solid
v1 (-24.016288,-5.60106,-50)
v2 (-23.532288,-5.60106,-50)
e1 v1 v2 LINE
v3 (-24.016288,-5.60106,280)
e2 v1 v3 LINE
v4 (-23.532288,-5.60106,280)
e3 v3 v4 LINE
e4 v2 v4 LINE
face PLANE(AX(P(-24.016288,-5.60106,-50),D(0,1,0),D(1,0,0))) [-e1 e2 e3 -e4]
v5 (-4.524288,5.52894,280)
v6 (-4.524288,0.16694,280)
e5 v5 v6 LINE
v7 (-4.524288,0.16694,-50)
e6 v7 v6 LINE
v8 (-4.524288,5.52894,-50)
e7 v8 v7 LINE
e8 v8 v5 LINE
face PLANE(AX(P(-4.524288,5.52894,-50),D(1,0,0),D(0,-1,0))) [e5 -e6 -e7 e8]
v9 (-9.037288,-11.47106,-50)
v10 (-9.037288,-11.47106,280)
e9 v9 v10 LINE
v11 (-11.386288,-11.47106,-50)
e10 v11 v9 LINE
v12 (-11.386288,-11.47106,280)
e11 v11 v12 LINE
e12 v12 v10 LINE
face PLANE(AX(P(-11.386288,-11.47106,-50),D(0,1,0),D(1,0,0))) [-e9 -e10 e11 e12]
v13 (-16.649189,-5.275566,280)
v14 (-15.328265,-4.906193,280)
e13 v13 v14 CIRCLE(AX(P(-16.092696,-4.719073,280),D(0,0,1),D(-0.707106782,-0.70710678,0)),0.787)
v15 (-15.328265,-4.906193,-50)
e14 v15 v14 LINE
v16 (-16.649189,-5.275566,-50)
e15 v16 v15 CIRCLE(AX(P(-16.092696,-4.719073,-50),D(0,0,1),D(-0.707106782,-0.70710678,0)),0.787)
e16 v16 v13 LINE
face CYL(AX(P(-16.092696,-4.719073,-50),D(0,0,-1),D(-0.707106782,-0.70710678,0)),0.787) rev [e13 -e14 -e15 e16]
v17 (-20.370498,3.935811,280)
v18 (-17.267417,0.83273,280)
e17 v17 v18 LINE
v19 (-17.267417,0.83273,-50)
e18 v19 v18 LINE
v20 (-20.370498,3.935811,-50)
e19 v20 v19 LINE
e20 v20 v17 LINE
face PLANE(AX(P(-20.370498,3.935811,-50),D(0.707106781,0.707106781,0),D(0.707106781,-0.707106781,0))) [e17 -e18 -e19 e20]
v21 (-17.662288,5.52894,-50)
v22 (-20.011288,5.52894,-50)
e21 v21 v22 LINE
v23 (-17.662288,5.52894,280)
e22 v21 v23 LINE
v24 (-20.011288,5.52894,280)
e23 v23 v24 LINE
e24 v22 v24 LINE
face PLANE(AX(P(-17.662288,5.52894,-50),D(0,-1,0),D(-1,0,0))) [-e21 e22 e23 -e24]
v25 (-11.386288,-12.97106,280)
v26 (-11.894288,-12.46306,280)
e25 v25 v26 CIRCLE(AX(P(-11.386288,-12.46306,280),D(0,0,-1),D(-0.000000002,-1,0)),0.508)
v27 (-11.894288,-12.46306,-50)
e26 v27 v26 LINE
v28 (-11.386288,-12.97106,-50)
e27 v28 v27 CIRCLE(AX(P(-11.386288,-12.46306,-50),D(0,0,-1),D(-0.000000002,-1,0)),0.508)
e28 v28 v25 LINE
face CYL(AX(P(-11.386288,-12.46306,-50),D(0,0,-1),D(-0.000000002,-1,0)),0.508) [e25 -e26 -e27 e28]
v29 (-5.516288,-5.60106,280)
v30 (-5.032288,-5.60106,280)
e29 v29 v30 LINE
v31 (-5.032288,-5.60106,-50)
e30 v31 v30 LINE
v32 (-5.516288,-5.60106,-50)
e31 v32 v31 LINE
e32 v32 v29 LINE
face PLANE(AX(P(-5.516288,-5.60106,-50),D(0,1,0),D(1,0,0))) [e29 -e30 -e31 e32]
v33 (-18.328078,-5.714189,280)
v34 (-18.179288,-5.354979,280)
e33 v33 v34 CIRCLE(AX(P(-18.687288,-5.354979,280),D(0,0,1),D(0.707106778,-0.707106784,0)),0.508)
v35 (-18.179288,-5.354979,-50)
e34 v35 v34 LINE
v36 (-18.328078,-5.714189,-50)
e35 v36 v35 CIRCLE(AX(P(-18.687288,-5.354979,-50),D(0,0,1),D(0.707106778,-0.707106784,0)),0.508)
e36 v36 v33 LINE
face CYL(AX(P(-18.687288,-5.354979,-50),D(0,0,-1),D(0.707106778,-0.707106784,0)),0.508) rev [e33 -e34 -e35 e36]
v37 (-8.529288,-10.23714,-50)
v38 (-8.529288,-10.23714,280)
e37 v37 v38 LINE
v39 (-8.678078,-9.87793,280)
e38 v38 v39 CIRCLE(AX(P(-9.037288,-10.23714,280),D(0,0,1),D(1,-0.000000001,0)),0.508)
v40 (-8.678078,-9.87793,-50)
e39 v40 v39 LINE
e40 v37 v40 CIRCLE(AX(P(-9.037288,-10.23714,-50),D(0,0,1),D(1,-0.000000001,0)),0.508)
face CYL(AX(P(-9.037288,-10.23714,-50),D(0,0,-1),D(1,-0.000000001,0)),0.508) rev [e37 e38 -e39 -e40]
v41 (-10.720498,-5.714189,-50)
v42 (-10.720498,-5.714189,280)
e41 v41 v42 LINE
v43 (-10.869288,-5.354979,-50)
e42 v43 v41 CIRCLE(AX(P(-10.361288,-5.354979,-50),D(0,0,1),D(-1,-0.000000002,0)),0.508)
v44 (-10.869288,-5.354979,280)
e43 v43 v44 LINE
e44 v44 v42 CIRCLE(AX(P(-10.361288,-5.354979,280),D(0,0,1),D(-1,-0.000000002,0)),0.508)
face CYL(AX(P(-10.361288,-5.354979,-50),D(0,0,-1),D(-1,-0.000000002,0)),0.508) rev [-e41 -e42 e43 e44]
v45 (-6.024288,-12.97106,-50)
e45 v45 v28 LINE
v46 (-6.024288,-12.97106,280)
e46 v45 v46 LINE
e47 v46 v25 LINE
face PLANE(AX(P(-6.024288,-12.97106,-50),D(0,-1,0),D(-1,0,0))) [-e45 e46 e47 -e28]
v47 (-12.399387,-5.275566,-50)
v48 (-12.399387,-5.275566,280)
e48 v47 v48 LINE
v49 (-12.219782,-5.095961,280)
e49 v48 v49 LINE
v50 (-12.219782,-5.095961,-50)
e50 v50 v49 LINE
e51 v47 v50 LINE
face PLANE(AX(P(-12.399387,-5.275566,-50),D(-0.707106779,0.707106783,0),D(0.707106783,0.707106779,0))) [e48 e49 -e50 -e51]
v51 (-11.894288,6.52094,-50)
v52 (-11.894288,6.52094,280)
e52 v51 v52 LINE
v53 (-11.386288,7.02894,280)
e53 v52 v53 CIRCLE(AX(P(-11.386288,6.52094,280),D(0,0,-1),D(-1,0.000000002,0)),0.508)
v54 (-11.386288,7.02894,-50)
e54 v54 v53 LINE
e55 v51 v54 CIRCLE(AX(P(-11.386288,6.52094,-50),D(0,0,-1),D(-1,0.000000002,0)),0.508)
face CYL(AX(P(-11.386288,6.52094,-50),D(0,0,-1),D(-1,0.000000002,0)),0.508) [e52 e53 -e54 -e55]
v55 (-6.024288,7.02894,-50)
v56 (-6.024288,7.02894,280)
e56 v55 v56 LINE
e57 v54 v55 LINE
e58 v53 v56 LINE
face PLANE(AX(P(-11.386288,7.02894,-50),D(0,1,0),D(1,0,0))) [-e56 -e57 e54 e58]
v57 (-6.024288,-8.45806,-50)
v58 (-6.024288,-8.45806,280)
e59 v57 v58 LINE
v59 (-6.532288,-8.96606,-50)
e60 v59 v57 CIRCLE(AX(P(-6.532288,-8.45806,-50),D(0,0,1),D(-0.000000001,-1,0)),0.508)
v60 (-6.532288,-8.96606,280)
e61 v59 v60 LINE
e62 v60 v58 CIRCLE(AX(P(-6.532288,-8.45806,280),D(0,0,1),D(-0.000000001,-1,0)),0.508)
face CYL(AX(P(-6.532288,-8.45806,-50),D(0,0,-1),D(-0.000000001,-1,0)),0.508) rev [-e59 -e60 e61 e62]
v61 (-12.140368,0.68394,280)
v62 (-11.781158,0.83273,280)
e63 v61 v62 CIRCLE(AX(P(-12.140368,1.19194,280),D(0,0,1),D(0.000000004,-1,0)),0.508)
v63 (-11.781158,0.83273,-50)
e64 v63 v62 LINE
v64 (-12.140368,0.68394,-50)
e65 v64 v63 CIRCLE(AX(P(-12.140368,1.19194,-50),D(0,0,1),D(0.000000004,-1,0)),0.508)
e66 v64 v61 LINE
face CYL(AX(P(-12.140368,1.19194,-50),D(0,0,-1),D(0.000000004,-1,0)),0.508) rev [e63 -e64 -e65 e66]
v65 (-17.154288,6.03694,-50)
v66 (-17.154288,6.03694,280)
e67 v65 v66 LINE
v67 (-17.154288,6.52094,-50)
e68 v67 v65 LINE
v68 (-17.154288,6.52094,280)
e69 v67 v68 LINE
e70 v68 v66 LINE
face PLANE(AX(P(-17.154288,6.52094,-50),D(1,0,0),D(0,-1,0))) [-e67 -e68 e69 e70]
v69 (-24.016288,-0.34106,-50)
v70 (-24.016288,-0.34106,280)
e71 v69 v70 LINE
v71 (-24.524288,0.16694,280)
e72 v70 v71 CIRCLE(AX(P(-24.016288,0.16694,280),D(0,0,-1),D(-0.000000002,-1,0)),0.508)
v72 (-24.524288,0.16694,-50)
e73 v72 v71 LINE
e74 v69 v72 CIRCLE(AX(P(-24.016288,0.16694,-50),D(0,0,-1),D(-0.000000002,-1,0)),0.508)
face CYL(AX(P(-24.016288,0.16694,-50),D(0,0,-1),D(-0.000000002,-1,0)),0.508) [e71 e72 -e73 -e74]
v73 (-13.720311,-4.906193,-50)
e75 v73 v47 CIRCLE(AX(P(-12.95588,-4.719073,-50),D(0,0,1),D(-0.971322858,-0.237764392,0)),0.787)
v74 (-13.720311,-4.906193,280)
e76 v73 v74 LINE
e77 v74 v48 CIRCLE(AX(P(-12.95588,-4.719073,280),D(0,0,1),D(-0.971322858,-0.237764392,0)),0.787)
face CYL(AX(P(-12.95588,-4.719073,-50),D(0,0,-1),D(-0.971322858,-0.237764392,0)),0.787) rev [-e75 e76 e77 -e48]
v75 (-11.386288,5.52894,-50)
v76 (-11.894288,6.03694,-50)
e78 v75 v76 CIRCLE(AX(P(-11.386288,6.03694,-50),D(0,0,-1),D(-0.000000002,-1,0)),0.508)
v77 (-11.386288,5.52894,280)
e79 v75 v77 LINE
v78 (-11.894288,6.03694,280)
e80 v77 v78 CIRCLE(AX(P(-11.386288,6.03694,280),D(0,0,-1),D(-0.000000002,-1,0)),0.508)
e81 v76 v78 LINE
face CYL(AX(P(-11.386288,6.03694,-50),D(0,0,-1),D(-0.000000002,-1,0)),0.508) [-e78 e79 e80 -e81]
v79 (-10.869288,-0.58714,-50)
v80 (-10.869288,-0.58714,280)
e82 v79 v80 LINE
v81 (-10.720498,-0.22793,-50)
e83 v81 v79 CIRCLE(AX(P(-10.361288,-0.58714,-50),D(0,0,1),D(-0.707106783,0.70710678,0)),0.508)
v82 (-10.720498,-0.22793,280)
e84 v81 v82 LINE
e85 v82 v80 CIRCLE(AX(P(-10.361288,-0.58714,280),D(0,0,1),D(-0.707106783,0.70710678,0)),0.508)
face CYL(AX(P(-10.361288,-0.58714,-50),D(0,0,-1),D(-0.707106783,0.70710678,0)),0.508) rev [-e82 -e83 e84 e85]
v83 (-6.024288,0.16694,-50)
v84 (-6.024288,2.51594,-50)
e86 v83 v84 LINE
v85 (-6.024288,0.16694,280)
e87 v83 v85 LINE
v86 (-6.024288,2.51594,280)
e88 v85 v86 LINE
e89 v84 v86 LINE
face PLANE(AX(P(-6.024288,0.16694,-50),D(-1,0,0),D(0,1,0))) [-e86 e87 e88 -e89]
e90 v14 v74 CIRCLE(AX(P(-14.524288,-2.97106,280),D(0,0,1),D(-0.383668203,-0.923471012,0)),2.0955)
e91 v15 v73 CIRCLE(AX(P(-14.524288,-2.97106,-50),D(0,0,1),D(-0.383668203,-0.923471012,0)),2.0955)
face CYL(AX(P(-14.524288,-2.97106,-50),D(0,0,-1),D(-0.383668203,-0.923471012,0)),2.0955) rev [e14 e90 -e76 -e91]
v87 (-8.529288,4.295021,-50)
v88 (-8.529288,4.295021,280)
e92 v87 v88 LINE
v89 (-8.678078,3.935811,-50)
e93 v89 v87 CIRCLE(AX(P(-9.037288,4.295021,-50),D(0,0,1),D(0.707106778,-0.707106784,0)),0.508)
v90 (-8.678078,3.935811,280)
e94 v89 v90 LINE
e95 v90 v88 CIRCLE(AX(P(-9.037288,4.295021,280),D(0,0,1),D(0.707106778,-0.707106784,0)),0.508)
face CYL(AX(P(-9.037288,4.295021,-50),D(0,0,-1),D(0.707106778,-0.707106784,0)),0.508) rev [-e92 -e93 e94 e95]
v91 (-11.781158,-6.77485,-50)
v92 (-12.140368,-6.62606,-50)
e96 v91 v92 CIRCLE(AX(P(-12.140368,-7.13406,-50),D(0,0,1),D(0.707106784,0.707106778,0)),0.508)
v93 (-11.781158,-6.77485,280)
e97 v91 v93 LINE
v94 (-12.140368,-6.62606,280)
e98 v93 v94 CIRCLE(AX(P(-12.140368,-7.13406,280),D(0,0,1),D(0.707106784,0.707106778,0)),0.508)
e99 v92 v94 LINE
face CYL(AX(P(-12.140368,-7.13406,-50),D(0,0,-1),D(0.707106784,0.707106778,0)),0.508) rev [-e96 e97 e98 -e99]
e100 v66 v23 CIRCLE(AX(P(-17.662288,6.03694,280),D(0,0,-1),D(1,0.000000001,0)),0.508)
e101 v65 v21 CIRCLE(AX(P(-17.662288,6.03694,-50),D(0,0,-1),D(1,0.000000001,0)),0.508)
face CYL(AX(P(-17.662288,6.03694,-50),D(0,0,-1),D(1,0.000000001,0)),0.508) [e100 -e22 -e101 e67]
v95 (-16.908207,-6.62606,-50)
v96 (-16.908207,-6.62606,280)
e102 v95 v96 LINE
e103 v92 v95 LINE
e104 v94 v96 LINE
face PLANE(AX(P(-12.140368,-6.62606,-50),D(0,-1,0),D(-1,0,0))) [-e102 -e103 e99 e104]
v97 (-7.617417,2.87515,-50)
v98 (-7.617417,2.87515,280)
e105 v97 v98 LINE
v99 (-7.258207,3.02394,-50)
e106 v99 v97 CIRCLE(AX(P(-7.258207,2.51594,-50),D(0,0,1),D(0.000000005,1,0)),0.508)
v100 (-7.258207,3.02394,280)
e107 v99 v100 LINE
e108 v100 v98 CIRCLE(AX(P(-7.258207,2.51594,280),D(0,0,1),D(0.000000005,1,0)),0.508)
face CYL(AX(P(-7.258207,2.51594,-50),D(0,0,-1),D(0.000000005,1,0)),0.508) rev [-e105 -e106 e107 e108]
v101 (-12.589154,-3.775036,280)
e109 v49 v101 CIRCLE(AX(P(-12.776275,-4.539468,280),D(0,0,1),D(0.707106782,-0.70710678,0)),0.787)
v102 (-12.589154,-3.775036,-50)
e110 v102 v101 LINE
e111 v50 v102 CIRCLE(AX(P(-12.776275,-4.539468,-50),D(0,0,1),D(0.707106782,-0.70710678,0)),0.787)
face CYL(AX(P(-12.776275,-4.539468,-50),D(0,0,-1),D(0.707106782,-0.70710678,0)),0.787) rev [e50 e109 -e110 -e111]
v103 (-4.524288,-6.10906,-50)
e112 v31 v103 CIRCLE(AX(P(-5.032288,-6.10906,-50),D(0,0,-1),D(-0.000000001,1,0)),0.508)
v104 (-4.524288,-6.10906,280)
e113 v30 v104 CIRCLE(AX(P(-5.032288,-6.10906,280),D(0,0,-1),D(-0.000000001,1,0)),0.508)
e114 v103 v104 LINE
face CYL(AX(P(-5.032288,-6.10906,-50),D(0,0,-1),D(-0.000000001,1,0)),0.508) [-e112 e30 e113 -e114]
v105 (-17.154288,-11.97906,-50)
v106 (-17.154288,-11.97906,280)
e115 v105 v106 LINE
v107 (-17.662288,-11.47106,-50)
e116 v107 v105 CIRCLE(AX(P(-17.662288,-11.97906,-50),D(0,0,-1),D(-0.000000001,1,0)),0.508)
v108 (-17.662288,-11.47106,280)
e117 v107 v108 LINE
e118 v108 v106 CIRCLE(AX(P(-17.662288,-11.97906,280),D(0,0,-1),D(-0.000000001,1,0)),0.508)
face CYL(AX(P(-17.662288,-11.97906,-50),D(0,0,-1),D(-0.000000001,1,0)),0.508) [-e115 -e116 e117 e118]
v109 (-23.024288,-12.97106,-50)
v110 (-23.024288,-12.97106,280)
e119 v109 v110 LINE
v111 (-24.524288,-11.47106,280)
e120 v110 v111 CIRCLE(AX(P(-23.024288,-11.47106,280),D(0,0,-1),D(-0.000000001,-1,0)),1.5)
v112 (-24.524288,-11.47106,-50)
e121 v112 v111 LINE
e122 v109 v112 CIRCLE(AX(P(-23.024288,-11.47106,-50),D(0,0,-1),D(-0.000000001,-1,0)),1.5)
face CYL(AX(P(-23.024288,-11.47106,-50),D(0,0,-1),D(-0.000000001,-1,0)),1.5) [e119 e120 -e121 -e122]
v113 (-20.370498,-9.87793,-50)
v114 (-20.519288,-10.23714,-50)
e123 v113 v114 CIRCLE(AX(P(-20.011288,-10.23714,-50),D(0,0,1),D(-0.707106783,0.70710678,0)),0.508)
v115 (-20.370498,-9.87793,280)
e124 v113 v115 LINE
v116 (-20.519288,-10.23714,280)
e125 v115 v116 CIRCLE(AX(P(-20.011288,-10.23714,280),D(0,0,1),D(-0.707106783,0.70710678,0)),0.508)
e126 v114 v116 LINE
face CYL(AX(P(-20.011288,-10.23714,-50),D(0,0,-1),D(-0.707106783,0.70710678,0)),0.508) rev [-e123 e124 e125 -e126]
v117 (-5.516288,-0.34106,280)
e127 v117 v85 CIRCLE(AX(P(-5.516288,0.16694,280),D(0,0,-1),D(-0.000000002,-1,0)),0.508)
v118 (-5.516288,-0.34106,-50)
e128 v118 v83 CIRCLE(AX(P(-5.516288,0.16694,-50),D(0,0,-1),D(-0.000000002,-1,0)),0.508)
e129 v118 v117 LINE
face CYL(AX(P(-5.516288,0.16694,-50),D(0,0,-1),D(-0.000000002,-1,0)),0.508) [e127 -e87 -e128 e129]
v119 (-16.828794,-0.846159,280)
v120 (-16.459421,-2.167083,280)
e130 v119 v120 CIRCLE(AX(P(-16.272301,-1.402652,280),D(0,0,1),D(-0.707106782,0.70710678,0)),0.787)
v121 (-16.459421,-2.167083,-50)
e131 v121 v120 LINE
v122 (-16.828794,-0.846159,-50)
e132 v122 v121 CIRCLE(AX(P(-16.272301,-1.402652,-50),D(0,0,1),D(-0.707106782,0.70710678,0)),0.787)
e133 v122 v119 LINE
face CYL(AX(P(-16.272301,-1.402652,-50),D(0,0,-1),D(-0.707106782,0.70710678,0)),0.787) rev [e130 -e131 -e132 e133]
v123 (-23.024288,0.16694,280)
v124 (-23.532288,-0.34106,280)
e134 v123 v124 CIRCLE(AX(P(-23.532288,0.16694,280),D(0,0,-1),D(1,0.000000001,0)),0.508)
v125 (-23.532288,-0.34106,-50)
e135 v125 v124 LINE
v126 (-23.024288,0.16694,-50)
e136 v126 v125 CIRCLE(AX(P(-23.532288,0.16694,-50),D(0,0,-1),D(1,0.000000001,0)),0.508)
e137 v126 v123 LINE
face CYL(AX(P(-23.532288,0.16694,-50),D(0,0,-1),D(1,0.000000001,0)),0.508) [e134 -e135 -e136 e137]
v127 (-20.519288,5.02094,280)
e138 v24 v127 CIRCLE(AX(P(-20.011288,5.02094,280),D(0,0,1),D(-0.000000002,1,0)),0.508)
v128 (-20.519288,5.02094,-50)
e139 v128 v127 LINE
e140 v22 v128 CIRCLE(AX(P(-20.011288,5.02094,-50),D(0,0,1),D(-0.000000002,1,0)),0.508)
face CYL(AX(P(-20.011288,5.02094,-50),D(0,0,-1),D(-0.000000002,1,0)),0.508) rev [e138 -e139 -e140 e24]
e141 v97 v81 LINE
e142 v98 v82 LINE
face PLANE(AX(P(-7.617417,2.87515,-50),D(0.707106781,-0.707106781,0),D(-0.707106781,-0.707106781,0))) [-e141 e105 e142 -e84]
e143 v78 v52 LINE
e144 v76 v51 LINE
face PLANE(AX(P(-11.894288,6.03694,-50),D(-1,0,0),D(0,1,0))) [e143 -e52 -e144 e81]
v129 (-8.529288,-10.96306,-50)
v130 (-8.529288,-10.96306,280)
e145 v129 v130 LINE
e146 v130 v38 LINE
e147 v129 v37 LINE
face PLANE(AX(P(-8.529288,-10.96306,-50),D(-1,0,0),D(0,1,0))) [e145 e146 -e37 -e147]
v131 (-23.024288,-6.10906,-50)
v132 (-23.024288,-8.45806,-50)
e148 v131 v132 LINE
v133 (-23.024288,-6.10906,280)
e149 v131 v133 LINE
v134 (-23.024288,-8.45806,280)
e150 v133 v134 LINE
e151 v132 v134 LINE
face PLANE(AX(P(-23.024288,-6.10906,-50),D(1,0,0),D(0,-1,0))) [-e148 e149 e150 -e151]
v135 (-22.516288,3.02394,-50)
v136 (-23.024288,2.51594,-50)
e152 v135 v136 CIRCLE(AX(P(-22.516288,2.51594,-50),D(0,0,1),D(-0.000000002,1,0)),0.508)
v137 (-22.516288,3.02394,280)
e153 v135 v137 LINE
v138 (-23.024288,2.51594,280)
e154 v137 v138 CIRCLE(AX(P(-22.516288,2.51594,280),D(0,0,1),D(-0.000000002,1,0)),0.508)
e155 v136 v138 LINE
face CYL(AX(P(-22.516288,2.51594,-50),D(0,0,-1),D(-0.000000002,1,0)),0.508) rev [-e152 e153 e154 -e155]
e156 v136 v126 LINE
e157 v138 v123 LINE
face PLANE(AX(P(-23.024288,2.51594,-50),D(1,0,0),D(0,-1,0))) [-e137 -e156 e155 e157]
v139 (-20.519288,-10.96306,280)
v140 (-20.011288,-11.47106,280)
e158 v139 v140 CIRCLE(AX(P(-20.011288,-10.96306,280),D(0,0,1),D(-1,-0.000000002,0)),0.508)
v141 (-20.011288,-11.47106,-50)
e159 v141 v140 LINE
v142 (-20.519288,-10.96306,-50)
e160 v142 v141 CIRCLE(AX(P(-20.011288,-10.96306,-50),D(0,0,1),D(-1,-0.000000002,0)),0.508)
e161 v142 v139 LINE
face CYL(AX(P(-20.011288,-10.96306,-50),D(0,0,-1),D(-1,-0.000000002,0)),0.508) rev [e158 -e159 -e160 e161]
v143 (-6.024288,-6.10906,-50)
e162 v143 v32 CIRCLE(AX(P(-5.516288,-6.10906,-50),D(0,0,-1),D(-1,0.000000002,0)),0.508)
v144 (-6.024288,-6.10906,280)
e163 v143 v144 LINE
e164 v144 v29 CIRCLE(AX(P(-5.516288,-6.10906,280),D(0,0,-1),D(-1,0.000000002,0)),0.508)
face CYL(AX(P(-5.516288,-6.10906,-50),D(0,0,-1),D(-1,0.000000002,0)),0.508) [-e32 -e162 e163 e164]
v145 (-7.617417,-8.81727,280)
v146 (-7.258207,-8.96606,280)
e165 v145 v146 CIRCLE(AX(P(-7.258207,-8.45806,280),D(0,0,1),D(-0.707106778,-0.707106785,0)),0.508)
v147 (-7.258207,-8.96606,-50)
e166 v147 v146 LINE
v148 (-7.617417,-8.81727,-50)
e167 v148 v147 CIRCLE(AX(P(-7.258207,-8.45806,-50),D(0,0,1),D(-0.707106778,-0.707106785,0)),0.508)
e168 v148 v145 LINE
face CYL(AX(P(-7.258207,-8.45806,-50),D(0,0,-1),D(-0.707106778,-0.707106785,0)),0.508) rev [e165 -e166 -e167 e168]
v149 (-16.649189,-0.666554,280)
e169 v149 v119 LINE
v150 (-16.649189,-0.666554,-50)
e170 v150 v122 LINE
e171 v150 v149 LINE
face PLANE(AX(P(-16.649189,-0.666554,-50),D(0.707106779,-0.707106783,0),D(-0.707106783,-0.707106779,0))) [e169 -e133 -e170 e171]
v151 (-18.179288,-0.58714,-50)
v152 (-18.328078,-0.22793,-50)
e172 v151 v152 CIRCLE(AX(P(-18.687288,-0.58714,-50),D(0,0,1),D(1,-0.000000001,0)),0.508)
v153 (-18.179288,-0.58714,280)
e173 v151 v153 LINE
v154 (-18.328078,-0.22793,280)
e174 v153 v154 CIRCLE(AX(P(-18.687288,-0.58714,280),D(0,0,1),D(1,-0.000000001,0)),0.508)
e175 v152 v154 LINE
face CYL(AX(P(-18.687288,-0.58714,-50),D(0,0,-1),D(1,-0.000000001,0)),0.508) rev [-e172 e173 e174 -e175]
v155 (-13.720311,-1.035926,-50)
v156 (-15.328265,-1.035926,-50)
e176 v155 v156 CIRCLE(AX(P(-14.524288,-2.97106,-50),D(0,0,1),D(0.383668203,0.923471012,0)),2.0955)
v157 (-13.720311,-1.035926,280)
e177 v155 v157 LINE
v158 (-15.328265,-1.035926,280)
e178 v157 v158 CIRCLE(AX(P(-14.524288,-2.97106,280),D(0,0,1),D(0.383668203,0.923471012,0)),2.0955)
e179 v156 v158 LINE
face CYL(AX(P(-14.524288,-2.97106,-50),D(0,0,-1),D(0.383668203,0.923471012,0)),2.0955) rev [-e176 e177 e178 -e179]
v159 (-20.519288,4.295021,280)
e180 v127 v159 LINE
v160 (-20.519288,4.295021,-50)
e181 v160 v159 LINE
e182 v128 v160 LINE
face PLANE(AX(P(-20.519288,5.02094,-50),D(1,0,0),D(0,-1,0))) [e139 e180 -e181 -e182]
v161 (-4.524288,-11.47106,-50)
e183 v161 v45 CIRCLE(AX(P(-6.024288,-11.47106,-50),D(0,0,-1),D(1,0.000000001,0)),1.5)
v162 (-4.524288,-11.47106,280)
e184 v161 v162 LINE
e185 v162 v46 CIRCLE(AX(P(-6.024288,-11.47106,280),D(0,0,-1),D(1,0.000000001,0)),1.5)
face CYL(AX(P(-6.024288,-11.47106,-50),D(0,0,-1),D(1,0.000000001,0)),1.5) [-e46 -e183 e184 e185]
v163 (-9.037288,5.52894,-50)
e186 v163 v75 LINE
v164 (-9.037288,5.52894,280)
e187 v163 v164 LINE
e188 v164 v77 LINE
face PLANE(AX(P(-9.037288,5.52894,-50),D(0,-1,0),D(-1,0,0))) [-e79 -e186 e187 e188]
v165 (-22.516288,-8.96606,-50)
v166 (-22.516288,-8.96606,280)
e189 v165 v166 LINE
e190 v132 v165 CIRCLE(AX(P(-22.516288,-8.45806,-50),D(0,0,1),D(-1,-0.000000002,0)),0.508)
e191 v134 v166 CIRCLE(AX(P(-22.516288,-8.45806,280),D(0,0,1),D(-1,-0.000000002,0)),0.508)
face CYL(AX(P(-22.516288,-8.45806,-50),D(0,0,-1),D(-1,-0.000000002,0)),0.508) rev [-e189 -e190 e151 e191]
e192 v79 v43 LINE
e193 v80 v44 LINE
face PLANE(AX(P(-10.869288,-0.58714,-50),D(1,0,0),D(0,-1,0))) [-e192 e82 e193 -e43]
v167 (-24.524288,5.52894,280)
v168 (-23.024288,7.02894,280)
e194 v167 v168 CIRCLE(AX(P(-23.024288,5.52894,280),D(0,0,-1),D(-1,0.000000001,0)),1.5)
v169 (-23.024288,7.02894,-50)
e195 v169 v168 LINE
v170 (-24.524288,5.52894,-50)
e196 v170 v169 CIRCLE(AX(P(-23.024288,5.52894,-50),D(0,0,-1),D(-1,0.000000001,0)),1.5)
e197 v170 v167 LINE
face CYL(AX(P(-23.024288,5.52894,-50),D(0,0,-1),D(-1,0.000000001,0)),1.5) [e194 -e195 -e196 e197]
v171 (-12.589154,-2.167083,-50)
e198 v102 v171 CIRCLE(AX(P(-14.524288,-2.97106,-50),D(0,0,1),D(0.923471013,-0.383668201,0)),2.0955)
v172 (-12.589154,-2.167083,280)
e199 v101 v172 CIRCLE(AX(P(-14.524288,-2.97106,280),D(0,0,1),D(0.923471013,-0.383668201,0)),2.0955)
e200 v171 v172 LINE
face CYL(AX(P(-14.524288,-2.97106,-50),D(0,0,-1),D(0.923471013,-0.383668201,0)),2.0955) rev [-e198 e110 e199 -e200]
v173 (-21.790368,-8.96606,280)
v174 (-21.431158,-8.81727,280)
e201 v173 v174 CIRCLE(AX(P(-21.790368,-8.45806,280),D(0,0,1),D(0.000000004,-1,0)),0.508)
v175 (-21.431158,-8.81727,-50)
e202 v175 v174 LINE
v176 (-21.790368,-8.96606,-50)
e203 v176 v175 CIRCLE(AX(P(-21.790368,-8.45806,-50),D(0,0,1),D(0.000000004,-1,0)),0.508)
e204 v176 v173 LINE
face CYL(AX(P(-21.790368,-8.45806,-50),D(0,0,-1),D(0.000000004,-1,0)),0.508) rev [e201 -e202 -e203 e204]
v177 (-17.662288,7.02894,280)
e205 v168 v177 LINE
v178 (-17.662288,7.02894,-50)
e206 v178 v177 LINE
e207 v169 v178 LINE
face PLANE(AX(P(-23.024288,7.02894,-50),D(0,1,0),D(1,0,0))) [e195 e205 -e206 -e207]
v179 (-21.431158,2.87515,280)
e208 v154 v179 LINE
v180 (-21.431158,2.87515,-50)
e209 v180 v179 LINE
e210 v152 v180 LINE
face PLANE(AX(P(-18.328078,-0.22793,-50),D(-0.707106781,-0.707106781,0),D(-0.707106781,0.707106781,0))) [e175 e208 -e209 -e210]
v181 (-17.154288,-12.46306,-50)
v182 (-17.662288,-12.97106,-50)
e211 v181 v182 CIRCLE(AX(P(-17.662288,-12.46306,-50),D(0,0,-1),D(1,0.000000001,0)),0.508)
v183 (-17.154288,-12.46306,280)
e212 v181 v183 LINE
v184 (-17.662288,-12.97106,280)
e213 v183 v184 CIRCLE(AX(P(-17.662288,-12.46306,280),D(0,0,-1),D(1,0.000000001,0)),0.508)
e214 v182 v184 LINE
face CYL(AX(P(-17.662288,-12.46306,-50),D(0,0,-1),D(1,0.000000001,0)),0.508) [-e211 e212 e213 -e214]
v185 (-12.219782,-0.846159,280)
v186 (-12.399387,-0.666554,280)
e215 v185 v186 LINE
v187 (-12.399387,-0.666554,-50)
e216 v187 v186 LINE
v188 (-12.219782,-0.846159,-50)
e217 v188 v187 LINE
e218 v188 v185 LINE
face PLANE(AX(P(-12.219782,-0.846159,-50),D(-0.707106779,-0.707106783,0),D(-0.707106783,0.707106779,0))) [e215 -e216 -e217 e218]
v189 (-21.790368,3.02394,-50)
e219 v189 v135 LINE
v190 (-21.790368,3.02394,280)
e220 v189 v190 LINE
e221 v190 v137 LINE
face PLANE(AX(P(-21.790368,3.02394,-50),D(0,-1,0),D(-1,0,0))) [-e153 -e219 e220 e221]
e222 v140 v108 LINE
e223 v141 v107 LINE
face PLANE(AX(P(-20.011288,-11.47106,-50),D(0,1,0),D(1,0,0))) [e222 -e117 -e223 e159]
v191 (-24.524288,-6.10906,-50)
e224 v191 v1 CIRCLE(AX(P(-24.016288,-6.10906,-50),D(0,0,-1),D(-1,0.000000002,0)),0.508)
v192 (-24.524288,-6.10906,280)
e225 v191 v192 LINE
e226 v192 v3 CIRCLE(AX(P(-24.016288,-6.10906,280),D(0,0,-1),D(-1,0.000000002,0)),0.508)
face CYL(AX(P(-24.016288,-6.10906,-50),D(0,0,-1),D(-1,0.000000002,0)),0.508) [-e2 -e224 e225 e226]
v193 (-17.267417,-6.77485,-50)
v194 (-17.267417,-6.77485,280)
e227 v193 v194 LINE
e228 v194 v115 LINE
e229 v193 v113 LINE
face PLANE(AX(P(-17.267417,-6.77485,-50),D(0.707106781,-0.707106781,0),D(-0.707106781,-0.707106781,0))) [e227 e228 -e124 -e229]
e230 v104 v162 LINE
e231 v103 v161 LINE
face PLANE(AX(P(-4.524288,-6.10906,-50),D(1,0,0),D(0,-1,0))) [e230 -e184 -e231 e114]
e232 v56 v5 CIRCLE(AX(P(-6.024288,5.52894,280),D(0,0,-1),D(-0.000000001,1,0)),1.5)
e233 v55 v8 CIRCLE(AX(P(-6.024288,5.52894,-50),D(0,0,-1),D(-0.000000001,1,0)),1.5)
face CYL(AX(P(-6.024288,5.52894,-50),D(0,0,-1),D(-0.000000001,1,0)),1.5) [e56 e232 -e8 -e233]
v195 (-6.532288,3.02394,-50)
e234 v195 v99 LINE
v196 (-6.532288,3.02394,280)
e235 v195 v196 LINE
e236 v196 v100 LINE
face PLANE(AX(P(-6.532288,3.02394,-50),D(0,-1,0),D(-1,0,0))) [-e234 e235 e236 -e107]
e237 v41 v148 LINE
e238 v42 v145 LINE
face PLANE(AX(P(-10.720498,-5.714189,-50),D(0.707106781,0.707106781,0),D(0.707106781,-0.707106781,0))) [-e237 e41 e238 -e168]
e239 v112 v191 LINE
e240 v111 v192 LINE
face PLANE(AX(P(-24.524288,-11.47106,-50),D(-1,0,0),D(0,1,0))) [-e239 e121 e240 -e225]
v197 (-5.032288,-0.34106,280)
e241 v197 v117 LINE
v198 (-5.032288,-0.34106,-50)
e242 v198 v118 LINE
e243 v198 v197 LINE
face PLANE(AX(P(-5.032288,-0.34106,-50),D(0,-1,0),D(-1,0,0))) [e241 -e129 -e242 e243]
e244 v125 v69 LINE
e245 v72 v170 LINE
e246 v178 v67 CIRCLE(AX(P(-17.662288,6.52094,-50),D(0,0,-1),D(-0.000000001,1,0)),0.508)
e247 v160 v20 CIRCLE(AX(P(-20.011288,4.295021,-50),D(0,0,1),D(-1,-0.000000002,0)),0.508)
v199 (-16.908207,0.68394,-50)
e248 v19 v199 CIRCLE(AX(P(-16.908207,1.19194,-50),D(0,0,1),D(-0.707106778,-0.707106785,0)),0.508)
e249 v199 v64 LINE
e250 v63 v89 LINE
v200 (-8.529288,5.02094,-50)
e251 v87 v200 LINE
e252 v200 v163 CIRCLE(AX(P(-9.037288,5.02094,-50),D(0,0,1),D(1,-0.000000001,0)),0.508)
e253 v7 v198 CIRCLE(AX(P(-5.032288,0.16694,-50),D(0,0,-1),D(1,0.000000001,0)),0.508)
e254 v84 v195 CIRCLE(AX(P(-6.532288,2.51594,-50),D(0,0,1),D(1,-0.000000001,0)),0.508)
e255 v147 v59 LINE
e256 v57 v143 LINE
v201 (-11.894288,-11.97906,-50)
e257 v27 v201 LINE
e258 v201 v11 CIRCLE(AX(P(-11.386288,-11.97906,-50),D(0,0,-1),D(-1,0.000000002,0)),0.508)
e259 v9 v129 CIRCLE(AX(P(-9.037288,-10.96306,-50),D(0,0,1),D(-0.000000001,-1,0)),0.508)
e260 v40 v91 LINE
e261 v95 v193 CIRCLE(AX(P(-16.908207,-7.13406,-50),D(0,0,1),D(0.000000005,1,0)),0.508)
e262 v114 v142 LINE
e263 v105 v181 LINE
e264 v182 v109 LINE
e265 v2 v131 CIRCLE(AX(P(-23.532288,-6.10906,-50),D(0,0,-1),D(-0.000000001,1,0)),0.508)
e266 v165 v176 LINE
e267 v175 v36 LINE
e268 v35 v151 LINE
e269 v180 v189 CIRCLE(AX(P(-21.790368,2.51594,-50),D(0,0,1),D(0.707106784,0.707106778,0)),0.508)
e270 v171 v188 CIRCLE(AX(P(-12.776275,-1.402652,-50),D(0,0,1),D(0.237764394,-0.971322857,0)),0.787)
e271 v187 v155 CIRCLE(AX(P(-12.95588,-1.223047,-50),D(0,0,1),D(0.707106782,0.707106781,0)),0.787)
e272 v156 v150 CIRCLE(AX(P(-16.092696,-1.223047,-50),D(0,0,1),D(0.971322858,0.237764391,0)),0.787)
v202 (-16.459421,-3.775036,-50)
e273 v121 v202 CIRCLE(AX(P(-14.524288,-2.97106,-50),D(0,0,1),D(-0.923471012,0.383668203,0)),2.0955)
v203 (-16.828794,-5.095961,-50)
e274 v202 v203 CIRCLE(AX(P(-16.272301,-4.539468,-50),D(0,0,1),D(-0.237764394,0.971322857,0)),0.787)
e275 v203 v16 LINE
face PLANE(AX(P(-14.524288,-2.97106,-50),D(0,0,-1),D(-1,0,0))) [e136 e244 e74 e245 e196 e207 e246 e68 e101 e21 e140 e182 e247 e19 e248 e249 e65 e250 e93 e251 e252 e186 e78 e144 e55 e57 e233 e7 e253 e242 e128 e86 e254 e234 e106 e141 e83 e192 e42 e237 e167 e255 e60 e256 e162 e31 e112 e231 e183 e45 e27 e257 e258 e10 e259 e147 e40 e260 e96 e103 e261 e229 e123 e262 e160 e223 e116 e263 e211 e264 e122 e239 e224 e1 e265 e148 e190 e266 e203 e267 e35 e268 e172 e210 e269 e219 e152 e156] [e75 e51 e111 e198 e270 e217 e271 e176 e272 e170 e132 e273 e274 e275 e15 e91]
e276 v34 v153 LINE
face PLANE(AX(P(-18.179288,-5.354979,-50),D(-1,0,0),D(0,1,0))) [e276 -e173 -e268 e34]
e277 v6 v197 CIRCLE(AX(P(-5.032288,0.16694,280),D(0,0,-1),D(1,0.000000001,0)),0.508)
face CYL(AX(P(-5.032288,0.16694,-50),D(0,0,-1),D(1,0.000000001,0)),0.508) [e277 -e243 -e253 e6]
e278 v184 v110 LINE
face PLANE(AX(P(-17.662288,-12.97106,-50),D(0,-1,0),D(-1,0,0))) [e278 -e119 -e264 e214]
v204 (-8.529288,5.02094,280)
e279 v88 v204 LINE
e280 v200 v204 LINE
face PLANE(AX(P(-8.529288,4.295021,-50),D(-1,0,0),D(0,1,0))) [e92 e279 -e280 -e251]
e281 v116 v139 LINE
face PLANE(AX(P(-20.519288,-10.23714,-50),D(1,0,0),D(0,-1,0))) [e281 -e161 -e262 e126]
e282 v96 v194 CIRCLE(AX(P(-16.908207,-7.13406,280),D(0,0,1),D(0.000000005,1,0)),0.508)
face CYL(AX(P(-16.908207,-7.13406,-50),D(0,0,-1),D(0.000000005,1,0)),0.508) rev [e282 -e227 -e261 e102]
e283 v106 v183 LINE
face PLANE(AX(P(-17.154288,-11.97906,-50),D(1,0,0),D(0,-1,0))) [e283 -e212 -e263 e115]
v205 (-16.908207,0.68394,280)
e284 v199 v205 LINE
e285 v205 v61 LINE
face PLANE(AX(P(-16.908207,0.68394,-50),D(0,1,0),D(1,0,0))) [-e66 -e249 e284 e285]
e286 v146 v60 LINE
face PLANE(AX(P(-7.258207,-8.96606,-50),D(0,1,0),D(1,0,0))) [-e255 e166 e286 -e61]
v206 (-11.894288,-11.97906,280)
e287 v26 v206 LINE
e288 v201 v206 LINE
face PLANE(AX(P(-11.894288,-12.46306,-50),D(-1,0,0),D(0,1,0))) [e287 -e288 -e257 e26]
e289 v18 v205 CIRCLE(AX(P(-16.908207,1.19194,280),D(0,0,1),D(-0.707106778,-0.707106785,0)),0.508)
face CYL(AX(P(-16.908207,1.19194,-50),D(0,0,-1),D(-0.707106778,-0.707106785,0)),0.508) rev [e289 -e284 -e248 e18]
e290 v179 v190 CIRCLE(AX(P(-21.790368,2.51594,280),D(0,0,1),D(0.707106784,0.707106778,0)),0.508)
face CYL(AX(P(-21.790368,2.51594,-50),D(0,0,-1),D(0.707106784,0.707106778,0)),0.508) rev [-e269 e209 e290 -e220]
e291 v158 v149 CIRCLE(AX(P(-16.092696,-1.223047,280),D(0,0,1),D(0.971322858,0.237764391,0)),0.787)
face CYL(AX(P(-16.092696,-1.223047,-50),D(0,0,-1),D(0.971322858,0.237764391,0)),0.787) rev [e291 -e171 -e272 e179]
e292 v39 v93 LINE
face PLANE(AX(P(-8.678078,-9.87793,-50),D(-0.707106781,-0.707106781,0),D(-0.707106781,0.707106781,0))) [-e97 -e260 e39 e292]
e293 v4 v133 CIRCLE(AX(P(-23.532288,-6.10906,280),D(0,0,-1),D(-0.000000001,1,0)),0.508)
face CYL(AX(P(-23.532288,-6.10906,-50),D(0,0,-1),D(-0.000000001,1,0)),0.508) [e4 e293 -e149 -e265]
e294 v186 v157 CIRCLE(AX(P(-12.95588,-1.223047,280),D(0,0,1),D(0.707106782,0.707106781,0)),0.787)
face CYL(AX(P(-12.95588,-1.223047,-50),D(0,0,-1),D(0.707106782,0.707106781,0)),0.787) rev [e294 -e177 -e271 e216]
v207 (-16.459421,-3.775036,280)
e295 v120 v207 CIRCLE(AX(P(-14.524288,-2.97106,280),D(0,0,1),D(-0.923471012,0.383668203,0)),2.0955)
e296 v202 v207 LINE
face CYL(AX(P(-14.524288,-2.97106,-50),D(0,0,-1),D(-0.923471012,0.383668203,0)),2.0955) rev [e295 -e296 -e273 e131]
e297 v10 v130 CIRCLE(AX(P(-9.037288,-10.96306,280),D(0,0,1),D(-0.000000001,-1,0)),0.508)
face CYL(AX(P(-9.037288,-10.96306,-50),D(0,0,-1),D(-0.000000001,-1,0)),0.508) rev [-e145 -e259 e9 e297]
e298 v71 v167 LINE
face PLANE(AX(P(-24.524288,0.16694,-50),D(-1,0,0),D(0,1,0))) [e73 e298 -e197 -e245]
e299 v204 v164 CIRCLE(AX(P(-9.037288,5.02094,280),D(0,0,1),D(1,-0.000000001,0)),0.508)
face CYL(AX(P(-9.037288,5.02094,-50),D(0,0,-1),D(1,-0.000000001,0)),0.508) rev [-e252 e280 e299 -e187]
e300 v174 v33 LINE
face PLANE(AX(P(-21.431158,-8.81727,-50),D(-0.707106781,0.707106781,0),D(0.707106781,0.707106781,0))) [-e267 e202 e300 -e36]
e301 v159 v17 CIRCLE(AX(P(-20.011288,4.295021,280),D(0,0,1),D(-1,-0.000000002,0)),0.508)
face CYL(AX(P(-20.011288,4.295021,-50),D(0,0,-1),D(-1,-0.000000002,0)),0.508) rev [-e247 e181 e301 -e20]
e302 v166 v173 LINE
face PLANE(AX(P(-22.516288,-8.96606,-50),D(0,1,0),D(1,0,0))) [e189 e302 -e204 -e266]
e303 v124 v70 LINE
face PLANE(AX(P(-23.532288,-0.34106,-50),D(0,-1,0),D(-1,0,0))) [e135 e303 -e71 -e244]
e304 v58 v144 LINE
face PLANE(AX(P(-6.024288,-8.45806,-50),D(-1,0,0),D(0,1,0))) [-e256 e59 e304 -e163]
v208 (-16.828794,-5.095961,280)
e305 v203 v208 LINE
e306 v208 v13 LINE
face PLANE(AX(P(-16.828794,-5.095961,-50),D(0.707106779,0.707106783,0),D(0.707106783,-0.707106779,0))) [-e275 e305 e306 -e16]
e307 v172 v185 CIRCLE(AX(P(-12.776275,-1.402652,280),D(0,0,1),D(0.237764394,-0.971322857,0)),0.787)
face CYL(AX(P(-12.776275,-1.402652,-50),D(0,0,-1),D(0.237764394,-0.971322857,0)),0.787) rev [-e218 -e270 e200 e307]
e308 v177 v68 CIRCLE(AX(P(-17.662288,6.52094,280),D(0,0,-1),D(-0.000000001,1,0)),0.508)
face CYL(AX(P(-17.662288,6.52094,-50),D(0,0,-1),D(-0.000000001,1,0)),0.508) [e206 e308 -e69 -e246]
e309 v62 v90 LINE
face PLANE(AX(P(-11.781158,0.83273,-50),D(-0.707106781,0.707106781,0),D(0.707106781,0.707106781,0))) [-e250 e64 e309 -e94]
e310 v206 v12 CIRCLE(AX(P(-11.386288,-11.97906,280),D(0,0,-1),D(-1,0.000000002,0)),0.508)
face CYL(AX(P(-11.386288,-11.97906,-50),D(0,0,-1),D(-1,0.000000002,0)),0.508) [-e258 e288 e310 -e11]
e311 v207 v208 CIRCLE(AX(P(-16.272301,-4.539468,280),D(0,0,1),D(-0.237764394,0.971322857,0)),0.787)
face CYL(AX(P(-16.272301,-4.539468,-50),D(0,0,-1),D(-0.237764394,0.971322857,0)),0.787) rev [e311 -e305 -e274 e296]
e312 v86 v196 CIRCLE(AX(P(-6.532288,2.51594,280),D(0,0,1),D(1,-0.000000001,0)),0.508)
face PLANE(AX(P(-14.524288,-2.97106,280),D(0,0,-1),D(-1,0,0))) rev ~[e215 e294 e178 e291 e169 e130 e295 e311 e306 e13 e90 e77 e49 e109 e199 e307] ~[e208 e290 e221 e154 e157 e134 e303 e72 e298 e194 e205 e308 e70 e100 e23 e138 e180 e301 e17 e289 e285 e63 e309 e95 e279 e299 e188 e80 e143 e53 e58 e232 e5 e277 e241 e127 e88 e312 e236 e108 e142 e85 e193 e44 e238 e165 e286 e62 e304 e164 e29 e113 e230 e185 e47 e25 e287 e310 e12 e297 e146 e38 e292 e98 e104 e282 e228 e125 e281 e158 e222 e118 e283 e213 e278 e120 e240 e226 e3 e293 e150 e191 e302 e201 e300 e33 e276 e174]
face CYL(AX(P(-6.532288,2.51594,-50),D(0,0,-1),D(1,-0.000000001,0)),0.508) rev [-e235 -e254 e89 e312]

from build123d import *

# Parameters (mm, degrees)
EXTRUDE1_DEPTH      = 280
EXTRUDE1_DEPTH_BACK = 50


with BuildPart() as part:
    # Sketch1 → Extrude1 (new, two sides: drawn at the far end of the back side and taken through both)
    with BuildSketch(Plane.XY.offset(-EXTRUDE1_DEPTH_BACK)):
        with BuildLine():
            Line((-5.032287798, -0.341059771), (-5.516287798, -0.341059771))
            ThreePointArc((-5.516287798, -0.341059771), (-5.875498042, -0.192270016), (-6.024287798, 0.166940229))
            Line((-6.024287798, 0.166940229), (-6.024287798, 2.515940229))
            ThreePointArc((-6.024287798, 2.515940229), (-6.173077553, 2.875150474), (-6.532287798, 3.023940229))
            Line((-6.532287798, 3.023940229), (-7.258207136, 3.023940229))
            ThreePointArc((-7.258207136, 3.023940229), (-7.45261032, 2.985271032), (-7.617417381, 2.875150474))
            Line((-7.617417381, 2.875150474), (-10.720498042, -0.227930187))
            ThreePointArc((-10.720498042, -0.227930187), (-10.8306186, -0.392737249), (-10.869287798, -0.587140432))
            Line((-10.869287798, -0.587140432), (-10.869287798, -5.354979109))
            ThreePointArc((-10.869287798, -5.354979109), (-10.8306186, -5.549382293), (-10.720498042, -5.714189354))
            Line((-10.720498042, -5.714189354), (-7.617417381, -8.817270016))
            ThreePointArc((-7.617417381, -8.817270016), (-7.45261032, -8.927390573), (-7.258207136, -8.966059771))
            Line((-7.258207136, -8.966059771), (-6.532287798, -8.966059771))
            ThreePointArc((-6.532287798, -8.966059771), (-6.173077553, -8.817270016), (-6.024287798, -8.458059771))
            Line((-6.024287798, -8.458059771), (-6.024287798, -6.109059771))
            ThreePointArc((-6.024287798, -6.109059771), (-5.875498042, -5.749849526), (-5.516287798, -5.601059771))
            Line((-5.516287798, -5.601059771), (-5.032287798, -5.601059771))
            ThreePointArc((-5.032287798, -5.601059771), (-4.673077553, -5.749849526), (-4.524287798, -6.109059771))
            Line((-4.524287798, -6.109059771), (-4.524287798, -11.471059771))
            ThreePointArc((-4.524287798, -11.471059771), (-4.963627626, -12.531719943), (-6.024287798, -12.971059771))
            Line((-6.024287798, -12.971059771), (-11.386287798, -12.971059771))
            ThreePointArc((-11.386287798, -12.971059771), (-11.745498042, -12.822270016), (-11.894287798, -12.463059771))
            Line((-11.894287798, -12.463059771), (-11.894287798, -11.979059771))
            ThreePointArc((-11.894287798, -11.979059771), (-11.745498042, -11.619849526), (-11.386287798, -11.471059771))
            Line((-11.386287798, -11.471059771), (-9.037287798, -11.471059771))
            ThreePointArc((-9.037287798, -11.471059771), (-8.678077553, -11.322270016), (-8.529287798, -10.963059771))
            Line((-8.529287798, -10.963059771), (-8.529287798, -10.237140432))
            ThreePointArc((-8.529287798, -10.237140432), (-8.567956995, -10.042737249), (-8.678077553, -9.877930187))
            Line((-8.678077553, -9.877930187), (-11.781158214, -6.774849526))
            ThreePointArc((-11.781158214, -6.774849526), (-11.945965275, -6.664728968), (-12.140368459, -6.626059771))
            Line((-12.140368459, -6.626059771), (-16.908207136, -6.626059771))
            ThreePointArc((-16.908207136, -6.626059771), (-17.10261032, -6.664728968), (-17.267417381, -6.774849526))
            Line((-17.267417381, -6.774849526), (-20.370498042, -9.877930187))
            ThreePointArc((-20.370498042, -9.877930187), (-20.4806186, -10.042737249), (-20.519287798, -10.237140432))
            Line((-20.519287798, -10.237140432), (-20.519287798, -10.963059771))
            ThreePointArc((-20.519287798, -10.963059771), (-20.370498042, -11.322270016), (-20.011287798, -11.471059771))
            Line((-20.011287798, -11.471059771), (-17.662287798, -11.471059771))
            ThreePointArc((-17.662287798, -11.471059771), (-17.303077553, -11.619849526), (-17.154287798, -11.979059771))
            Line((-17.154287798, -11.979059771), (-17.154287798, -12.463059771))
            ThreePointArc((-17.154287798, -12.463059771), (-17.303077553, -12.822270016), (-17.662287798, -12.971059771))
            Line((-17.662287798, -12.971059771), (-23.024287798, -12.971059771))
            ThreePointArc((-23.024287798, -12.971059771), (-24.084947969, -12.531719943), (-24.524287798, -11.471059771))
            Line((-24.524287798, -11.471059771), (-24.524287798, -6.109059771))
            ThreePointArc((-24.524287798, -6.109059771), (-24.375498042, -5.749849526), (-24.016287798, -5.601059771))
            Line((-24.016287798, -5.601059771), (-23.532287798, -5.601059771))
            ThreePointArc((-23.532287798, -5.601059771), (-23.173077553, -5.749849526), (-23.024287798, -6.109059771))
            Line((-23.024287798, -6.109059771), (-23.024287798, -8.458059771))
            ThreePointArc((-23.024287798, -8.458059771), (-22.875498042, -8.817270016), (-22.516287798, -8.966059771))
            Line((-22.516287798, -8.966059771), (-21.790368459, -8.966059771))
            ThreePointArc((-21.790368459, -8.966059771), (-21.595965275, -8.927390573), (-21.431158214, -8.817270016))
            Line((-21.431158214, -8.817270016), (-18.328077553, -5.714189354))
            ThreePointArc((-18.328077553, -5.714189354), (-18.217956995, -5.549382293), (-18.179287798, -5.354979109))
            Line((-18.179287798, -5.354979109), (-18.179287798, -0.587140432))
            ThreePointArc((-18.179287798, -0.587140432), (-18.217956995, -0.392737249), (-18.328077553, -0.227930187))
            Line((-18.328077553, -0.227930187), (-21.431158214, 2.875150474))
            ThreePointArc((-21.431158214, 2.875150474), (-21.595965275, 2.985271032), (-21.790368459, 3.023940229))
            Line((-21.790368459, 3.023940229), (-22.516287798, 3.023940229))
            ThreePointArc((-22.516287798, 3.023940229), (-22.875498042, 2.875150474), (-23.024287798, 2.515940229))
            Line((-23.024287798, 2.515940229), (-23.024287798, 0.166940229))
            ThreePointArc((-23.024287798, 0.166940229), (-23.173077553, -0.192270016), (-23.532287798, -0.341059771))
            Line((-23.532287798, -0.341059771), (-24.016287798, -0.341059771))
            ThreePointArc((-24.016287798, -0.341059771), (-24.375498042, -0.192270016), (-24.524287798, 0.166940229))
            Line((-24.524287798, 0.166940229), (-24.524287798, 5.528940229))
            ThreePointArc((-24.524287798, 5.528940229), (-24.084947969, 6.589600401), (-23.024287798, 7.028940229))
            Line((-23.024287798, 7.028940229), (-17.662287798, 7.028940229))
            ThreePointArc((-17.662287798, 7.028940229), (-17.303077553, 6.880150474), (-17.154287798, 6.520940229))
            Line((-17.154287798, 6.520940229), (-17.154287798, 6.036940229))
            ThreePointArc((-17.154287798, 6.036940229), (-17.303077553, 5.677729984), (-17.662287798, 5.528940229))
            Line((-17.662287798, 5.528940229), (-20.011287798, 5.528940229))
            ThreePointArc((-20.011287798, 5.528940229), (-20.370498042, 5.380150474), (-20.519287798, 5.020940229))
            Line((-20.519287798, 5.020940229), (-20.519287798, 4.295020891))
            ThreePointArc((-20.519287798, 4.295020891), (-20.4806186, 4.100617707), (-20.370498042, 3.935810646))
            Line((-20.370498042, 3.935810646), (-17.267417381, 0.832729984))
            ThreePointArc((-17.267417381, 0.832729984), (-17.10261032, 0.722609427), (-16.908207136, 0.683940229))
            Line((-16.908207136, 0.683940229), (-12.140368459, 0.683940229))
            ThreePointArc((-12.140368459, 0.683940229), (-11.945965275, 0.722609427), (-11.781158214, 0.832729984))
            Line((-11.781158214, 0.832729984), (-8.678077553, 3.935810646))
            ThreePointArc((-8.678077553, 3.935810646), (-8.567956995, 4.100617707), (-8.529287798, 4.295020891))
            Line((-8.529287798, 4.295020891), (-8.529287798, 5.020940229))
            ThreePointArc((-8.529287798, 5.020940229), (-8.678077553, 5.380150474), (-9.037287798, 5.528940229))
            Line((-9.037287798, 5.528940229), (-11.386287798, 5.528940229))
            ThreePointArc((-11.386287798, 5.528940229), (-11.745498042, 5.677729984), (-11.894287798, 6.036940229))
            Line((-11.894287798, 6.036940229), (-11.894287798, 6.520940229))
            ThreePointArc((-11.894287798, 6.520940229), (-11.745498042, 6.880150474), (-11.386287798, 7.028940229))
            Line((-11.386287798, 7.028940229), (-6.024287798, 7.028940229))
            ThreePointArc((-6.024287798, 7.028940229), (-4.963627626, 6.589600401), (-4.524287798, 5.528940229))
            Line((-4.524287798, 5.528940229), (-4.524287798, 0.166940229))
            ThreePointArc((-4.524287798, 0.166940229), (-4.673077553, -0.192270016), (-5.032287798, -0.341059771))
        make_face()
        with BuildLine():
            Line((-12.399386954, -5.275565737), (-12.219781831, -5.095960615))
            ThreePointArc((-12.219781831, -5.095960615), (-12.018349781, -4.327527582), (-12.589154291, -3.775036489))
            ThreePointArc((-12.589154291, -3.775036489), (-12.428787798, -2.971059771), (-12.589154291, -2.167083053))
            ThreePointArc((-12.589154291, -2.167083053), (-12.018349781, -1.61459196), (-12.219781831, -0.846158927))
            Line((-12.219781831, -0.846158927), (-12.399386954, -0.666553805))
            ThreePointArc((-12.399386954, -0.666553805), (-13.167819987, -0.465121754), (-13.72031108, -1.035926265))
            ThreePointArc((-13.72031108, -1.035926265), (-14.524287798, -0.875559771), (-15.328264516, -1.035926265))
            ThreePointArc((-15.328264516, -1.035926265), (-15.880755608, -0.465121754), (-16.649188641, -0.666553805))
            Line((-16.649188641, -0.666553805), (-16.828793764, -0.846158927))
            ThreePointArc((-16.828793764, -0.846158927), (-17.030225814, -1.61459196), (-16.459421304, -2.167083053))
            ThreePointArc((-16.459421304, -2.167083053), (-16.619787798, -2.971059771), (-16.459421304, -3.775036489))
            ThreePointArc((-16.459421304, -3.775036489), (-17.030225814, -4.327527582), (-16.828793764, -5.095960615))
            Line((-16.828793764, -5.095960615), (-16.649188641, -5.275565737))
            ThreePointArc((-16.649188641, -5.275565737), (-15.880755608, -5.476997788), (-15.328264516, -4.906193277))
            ThreePointArc((-15.328264516, -4.906193277), (-14.524287798, -5.066559771), (-13.72031108, -4.906193277))
            ThreePointArc((-13.72031108, -4.906193277), (-13.167819987, -5.476997788), (-12.399386954, -5.275565737))
        make_face(mode=Mode.SUBTRACT)
    extrude(amount=EXTRUDE1_DEPTH + EXTRUDE1_DEPTH_BACK)


solid = part.part
